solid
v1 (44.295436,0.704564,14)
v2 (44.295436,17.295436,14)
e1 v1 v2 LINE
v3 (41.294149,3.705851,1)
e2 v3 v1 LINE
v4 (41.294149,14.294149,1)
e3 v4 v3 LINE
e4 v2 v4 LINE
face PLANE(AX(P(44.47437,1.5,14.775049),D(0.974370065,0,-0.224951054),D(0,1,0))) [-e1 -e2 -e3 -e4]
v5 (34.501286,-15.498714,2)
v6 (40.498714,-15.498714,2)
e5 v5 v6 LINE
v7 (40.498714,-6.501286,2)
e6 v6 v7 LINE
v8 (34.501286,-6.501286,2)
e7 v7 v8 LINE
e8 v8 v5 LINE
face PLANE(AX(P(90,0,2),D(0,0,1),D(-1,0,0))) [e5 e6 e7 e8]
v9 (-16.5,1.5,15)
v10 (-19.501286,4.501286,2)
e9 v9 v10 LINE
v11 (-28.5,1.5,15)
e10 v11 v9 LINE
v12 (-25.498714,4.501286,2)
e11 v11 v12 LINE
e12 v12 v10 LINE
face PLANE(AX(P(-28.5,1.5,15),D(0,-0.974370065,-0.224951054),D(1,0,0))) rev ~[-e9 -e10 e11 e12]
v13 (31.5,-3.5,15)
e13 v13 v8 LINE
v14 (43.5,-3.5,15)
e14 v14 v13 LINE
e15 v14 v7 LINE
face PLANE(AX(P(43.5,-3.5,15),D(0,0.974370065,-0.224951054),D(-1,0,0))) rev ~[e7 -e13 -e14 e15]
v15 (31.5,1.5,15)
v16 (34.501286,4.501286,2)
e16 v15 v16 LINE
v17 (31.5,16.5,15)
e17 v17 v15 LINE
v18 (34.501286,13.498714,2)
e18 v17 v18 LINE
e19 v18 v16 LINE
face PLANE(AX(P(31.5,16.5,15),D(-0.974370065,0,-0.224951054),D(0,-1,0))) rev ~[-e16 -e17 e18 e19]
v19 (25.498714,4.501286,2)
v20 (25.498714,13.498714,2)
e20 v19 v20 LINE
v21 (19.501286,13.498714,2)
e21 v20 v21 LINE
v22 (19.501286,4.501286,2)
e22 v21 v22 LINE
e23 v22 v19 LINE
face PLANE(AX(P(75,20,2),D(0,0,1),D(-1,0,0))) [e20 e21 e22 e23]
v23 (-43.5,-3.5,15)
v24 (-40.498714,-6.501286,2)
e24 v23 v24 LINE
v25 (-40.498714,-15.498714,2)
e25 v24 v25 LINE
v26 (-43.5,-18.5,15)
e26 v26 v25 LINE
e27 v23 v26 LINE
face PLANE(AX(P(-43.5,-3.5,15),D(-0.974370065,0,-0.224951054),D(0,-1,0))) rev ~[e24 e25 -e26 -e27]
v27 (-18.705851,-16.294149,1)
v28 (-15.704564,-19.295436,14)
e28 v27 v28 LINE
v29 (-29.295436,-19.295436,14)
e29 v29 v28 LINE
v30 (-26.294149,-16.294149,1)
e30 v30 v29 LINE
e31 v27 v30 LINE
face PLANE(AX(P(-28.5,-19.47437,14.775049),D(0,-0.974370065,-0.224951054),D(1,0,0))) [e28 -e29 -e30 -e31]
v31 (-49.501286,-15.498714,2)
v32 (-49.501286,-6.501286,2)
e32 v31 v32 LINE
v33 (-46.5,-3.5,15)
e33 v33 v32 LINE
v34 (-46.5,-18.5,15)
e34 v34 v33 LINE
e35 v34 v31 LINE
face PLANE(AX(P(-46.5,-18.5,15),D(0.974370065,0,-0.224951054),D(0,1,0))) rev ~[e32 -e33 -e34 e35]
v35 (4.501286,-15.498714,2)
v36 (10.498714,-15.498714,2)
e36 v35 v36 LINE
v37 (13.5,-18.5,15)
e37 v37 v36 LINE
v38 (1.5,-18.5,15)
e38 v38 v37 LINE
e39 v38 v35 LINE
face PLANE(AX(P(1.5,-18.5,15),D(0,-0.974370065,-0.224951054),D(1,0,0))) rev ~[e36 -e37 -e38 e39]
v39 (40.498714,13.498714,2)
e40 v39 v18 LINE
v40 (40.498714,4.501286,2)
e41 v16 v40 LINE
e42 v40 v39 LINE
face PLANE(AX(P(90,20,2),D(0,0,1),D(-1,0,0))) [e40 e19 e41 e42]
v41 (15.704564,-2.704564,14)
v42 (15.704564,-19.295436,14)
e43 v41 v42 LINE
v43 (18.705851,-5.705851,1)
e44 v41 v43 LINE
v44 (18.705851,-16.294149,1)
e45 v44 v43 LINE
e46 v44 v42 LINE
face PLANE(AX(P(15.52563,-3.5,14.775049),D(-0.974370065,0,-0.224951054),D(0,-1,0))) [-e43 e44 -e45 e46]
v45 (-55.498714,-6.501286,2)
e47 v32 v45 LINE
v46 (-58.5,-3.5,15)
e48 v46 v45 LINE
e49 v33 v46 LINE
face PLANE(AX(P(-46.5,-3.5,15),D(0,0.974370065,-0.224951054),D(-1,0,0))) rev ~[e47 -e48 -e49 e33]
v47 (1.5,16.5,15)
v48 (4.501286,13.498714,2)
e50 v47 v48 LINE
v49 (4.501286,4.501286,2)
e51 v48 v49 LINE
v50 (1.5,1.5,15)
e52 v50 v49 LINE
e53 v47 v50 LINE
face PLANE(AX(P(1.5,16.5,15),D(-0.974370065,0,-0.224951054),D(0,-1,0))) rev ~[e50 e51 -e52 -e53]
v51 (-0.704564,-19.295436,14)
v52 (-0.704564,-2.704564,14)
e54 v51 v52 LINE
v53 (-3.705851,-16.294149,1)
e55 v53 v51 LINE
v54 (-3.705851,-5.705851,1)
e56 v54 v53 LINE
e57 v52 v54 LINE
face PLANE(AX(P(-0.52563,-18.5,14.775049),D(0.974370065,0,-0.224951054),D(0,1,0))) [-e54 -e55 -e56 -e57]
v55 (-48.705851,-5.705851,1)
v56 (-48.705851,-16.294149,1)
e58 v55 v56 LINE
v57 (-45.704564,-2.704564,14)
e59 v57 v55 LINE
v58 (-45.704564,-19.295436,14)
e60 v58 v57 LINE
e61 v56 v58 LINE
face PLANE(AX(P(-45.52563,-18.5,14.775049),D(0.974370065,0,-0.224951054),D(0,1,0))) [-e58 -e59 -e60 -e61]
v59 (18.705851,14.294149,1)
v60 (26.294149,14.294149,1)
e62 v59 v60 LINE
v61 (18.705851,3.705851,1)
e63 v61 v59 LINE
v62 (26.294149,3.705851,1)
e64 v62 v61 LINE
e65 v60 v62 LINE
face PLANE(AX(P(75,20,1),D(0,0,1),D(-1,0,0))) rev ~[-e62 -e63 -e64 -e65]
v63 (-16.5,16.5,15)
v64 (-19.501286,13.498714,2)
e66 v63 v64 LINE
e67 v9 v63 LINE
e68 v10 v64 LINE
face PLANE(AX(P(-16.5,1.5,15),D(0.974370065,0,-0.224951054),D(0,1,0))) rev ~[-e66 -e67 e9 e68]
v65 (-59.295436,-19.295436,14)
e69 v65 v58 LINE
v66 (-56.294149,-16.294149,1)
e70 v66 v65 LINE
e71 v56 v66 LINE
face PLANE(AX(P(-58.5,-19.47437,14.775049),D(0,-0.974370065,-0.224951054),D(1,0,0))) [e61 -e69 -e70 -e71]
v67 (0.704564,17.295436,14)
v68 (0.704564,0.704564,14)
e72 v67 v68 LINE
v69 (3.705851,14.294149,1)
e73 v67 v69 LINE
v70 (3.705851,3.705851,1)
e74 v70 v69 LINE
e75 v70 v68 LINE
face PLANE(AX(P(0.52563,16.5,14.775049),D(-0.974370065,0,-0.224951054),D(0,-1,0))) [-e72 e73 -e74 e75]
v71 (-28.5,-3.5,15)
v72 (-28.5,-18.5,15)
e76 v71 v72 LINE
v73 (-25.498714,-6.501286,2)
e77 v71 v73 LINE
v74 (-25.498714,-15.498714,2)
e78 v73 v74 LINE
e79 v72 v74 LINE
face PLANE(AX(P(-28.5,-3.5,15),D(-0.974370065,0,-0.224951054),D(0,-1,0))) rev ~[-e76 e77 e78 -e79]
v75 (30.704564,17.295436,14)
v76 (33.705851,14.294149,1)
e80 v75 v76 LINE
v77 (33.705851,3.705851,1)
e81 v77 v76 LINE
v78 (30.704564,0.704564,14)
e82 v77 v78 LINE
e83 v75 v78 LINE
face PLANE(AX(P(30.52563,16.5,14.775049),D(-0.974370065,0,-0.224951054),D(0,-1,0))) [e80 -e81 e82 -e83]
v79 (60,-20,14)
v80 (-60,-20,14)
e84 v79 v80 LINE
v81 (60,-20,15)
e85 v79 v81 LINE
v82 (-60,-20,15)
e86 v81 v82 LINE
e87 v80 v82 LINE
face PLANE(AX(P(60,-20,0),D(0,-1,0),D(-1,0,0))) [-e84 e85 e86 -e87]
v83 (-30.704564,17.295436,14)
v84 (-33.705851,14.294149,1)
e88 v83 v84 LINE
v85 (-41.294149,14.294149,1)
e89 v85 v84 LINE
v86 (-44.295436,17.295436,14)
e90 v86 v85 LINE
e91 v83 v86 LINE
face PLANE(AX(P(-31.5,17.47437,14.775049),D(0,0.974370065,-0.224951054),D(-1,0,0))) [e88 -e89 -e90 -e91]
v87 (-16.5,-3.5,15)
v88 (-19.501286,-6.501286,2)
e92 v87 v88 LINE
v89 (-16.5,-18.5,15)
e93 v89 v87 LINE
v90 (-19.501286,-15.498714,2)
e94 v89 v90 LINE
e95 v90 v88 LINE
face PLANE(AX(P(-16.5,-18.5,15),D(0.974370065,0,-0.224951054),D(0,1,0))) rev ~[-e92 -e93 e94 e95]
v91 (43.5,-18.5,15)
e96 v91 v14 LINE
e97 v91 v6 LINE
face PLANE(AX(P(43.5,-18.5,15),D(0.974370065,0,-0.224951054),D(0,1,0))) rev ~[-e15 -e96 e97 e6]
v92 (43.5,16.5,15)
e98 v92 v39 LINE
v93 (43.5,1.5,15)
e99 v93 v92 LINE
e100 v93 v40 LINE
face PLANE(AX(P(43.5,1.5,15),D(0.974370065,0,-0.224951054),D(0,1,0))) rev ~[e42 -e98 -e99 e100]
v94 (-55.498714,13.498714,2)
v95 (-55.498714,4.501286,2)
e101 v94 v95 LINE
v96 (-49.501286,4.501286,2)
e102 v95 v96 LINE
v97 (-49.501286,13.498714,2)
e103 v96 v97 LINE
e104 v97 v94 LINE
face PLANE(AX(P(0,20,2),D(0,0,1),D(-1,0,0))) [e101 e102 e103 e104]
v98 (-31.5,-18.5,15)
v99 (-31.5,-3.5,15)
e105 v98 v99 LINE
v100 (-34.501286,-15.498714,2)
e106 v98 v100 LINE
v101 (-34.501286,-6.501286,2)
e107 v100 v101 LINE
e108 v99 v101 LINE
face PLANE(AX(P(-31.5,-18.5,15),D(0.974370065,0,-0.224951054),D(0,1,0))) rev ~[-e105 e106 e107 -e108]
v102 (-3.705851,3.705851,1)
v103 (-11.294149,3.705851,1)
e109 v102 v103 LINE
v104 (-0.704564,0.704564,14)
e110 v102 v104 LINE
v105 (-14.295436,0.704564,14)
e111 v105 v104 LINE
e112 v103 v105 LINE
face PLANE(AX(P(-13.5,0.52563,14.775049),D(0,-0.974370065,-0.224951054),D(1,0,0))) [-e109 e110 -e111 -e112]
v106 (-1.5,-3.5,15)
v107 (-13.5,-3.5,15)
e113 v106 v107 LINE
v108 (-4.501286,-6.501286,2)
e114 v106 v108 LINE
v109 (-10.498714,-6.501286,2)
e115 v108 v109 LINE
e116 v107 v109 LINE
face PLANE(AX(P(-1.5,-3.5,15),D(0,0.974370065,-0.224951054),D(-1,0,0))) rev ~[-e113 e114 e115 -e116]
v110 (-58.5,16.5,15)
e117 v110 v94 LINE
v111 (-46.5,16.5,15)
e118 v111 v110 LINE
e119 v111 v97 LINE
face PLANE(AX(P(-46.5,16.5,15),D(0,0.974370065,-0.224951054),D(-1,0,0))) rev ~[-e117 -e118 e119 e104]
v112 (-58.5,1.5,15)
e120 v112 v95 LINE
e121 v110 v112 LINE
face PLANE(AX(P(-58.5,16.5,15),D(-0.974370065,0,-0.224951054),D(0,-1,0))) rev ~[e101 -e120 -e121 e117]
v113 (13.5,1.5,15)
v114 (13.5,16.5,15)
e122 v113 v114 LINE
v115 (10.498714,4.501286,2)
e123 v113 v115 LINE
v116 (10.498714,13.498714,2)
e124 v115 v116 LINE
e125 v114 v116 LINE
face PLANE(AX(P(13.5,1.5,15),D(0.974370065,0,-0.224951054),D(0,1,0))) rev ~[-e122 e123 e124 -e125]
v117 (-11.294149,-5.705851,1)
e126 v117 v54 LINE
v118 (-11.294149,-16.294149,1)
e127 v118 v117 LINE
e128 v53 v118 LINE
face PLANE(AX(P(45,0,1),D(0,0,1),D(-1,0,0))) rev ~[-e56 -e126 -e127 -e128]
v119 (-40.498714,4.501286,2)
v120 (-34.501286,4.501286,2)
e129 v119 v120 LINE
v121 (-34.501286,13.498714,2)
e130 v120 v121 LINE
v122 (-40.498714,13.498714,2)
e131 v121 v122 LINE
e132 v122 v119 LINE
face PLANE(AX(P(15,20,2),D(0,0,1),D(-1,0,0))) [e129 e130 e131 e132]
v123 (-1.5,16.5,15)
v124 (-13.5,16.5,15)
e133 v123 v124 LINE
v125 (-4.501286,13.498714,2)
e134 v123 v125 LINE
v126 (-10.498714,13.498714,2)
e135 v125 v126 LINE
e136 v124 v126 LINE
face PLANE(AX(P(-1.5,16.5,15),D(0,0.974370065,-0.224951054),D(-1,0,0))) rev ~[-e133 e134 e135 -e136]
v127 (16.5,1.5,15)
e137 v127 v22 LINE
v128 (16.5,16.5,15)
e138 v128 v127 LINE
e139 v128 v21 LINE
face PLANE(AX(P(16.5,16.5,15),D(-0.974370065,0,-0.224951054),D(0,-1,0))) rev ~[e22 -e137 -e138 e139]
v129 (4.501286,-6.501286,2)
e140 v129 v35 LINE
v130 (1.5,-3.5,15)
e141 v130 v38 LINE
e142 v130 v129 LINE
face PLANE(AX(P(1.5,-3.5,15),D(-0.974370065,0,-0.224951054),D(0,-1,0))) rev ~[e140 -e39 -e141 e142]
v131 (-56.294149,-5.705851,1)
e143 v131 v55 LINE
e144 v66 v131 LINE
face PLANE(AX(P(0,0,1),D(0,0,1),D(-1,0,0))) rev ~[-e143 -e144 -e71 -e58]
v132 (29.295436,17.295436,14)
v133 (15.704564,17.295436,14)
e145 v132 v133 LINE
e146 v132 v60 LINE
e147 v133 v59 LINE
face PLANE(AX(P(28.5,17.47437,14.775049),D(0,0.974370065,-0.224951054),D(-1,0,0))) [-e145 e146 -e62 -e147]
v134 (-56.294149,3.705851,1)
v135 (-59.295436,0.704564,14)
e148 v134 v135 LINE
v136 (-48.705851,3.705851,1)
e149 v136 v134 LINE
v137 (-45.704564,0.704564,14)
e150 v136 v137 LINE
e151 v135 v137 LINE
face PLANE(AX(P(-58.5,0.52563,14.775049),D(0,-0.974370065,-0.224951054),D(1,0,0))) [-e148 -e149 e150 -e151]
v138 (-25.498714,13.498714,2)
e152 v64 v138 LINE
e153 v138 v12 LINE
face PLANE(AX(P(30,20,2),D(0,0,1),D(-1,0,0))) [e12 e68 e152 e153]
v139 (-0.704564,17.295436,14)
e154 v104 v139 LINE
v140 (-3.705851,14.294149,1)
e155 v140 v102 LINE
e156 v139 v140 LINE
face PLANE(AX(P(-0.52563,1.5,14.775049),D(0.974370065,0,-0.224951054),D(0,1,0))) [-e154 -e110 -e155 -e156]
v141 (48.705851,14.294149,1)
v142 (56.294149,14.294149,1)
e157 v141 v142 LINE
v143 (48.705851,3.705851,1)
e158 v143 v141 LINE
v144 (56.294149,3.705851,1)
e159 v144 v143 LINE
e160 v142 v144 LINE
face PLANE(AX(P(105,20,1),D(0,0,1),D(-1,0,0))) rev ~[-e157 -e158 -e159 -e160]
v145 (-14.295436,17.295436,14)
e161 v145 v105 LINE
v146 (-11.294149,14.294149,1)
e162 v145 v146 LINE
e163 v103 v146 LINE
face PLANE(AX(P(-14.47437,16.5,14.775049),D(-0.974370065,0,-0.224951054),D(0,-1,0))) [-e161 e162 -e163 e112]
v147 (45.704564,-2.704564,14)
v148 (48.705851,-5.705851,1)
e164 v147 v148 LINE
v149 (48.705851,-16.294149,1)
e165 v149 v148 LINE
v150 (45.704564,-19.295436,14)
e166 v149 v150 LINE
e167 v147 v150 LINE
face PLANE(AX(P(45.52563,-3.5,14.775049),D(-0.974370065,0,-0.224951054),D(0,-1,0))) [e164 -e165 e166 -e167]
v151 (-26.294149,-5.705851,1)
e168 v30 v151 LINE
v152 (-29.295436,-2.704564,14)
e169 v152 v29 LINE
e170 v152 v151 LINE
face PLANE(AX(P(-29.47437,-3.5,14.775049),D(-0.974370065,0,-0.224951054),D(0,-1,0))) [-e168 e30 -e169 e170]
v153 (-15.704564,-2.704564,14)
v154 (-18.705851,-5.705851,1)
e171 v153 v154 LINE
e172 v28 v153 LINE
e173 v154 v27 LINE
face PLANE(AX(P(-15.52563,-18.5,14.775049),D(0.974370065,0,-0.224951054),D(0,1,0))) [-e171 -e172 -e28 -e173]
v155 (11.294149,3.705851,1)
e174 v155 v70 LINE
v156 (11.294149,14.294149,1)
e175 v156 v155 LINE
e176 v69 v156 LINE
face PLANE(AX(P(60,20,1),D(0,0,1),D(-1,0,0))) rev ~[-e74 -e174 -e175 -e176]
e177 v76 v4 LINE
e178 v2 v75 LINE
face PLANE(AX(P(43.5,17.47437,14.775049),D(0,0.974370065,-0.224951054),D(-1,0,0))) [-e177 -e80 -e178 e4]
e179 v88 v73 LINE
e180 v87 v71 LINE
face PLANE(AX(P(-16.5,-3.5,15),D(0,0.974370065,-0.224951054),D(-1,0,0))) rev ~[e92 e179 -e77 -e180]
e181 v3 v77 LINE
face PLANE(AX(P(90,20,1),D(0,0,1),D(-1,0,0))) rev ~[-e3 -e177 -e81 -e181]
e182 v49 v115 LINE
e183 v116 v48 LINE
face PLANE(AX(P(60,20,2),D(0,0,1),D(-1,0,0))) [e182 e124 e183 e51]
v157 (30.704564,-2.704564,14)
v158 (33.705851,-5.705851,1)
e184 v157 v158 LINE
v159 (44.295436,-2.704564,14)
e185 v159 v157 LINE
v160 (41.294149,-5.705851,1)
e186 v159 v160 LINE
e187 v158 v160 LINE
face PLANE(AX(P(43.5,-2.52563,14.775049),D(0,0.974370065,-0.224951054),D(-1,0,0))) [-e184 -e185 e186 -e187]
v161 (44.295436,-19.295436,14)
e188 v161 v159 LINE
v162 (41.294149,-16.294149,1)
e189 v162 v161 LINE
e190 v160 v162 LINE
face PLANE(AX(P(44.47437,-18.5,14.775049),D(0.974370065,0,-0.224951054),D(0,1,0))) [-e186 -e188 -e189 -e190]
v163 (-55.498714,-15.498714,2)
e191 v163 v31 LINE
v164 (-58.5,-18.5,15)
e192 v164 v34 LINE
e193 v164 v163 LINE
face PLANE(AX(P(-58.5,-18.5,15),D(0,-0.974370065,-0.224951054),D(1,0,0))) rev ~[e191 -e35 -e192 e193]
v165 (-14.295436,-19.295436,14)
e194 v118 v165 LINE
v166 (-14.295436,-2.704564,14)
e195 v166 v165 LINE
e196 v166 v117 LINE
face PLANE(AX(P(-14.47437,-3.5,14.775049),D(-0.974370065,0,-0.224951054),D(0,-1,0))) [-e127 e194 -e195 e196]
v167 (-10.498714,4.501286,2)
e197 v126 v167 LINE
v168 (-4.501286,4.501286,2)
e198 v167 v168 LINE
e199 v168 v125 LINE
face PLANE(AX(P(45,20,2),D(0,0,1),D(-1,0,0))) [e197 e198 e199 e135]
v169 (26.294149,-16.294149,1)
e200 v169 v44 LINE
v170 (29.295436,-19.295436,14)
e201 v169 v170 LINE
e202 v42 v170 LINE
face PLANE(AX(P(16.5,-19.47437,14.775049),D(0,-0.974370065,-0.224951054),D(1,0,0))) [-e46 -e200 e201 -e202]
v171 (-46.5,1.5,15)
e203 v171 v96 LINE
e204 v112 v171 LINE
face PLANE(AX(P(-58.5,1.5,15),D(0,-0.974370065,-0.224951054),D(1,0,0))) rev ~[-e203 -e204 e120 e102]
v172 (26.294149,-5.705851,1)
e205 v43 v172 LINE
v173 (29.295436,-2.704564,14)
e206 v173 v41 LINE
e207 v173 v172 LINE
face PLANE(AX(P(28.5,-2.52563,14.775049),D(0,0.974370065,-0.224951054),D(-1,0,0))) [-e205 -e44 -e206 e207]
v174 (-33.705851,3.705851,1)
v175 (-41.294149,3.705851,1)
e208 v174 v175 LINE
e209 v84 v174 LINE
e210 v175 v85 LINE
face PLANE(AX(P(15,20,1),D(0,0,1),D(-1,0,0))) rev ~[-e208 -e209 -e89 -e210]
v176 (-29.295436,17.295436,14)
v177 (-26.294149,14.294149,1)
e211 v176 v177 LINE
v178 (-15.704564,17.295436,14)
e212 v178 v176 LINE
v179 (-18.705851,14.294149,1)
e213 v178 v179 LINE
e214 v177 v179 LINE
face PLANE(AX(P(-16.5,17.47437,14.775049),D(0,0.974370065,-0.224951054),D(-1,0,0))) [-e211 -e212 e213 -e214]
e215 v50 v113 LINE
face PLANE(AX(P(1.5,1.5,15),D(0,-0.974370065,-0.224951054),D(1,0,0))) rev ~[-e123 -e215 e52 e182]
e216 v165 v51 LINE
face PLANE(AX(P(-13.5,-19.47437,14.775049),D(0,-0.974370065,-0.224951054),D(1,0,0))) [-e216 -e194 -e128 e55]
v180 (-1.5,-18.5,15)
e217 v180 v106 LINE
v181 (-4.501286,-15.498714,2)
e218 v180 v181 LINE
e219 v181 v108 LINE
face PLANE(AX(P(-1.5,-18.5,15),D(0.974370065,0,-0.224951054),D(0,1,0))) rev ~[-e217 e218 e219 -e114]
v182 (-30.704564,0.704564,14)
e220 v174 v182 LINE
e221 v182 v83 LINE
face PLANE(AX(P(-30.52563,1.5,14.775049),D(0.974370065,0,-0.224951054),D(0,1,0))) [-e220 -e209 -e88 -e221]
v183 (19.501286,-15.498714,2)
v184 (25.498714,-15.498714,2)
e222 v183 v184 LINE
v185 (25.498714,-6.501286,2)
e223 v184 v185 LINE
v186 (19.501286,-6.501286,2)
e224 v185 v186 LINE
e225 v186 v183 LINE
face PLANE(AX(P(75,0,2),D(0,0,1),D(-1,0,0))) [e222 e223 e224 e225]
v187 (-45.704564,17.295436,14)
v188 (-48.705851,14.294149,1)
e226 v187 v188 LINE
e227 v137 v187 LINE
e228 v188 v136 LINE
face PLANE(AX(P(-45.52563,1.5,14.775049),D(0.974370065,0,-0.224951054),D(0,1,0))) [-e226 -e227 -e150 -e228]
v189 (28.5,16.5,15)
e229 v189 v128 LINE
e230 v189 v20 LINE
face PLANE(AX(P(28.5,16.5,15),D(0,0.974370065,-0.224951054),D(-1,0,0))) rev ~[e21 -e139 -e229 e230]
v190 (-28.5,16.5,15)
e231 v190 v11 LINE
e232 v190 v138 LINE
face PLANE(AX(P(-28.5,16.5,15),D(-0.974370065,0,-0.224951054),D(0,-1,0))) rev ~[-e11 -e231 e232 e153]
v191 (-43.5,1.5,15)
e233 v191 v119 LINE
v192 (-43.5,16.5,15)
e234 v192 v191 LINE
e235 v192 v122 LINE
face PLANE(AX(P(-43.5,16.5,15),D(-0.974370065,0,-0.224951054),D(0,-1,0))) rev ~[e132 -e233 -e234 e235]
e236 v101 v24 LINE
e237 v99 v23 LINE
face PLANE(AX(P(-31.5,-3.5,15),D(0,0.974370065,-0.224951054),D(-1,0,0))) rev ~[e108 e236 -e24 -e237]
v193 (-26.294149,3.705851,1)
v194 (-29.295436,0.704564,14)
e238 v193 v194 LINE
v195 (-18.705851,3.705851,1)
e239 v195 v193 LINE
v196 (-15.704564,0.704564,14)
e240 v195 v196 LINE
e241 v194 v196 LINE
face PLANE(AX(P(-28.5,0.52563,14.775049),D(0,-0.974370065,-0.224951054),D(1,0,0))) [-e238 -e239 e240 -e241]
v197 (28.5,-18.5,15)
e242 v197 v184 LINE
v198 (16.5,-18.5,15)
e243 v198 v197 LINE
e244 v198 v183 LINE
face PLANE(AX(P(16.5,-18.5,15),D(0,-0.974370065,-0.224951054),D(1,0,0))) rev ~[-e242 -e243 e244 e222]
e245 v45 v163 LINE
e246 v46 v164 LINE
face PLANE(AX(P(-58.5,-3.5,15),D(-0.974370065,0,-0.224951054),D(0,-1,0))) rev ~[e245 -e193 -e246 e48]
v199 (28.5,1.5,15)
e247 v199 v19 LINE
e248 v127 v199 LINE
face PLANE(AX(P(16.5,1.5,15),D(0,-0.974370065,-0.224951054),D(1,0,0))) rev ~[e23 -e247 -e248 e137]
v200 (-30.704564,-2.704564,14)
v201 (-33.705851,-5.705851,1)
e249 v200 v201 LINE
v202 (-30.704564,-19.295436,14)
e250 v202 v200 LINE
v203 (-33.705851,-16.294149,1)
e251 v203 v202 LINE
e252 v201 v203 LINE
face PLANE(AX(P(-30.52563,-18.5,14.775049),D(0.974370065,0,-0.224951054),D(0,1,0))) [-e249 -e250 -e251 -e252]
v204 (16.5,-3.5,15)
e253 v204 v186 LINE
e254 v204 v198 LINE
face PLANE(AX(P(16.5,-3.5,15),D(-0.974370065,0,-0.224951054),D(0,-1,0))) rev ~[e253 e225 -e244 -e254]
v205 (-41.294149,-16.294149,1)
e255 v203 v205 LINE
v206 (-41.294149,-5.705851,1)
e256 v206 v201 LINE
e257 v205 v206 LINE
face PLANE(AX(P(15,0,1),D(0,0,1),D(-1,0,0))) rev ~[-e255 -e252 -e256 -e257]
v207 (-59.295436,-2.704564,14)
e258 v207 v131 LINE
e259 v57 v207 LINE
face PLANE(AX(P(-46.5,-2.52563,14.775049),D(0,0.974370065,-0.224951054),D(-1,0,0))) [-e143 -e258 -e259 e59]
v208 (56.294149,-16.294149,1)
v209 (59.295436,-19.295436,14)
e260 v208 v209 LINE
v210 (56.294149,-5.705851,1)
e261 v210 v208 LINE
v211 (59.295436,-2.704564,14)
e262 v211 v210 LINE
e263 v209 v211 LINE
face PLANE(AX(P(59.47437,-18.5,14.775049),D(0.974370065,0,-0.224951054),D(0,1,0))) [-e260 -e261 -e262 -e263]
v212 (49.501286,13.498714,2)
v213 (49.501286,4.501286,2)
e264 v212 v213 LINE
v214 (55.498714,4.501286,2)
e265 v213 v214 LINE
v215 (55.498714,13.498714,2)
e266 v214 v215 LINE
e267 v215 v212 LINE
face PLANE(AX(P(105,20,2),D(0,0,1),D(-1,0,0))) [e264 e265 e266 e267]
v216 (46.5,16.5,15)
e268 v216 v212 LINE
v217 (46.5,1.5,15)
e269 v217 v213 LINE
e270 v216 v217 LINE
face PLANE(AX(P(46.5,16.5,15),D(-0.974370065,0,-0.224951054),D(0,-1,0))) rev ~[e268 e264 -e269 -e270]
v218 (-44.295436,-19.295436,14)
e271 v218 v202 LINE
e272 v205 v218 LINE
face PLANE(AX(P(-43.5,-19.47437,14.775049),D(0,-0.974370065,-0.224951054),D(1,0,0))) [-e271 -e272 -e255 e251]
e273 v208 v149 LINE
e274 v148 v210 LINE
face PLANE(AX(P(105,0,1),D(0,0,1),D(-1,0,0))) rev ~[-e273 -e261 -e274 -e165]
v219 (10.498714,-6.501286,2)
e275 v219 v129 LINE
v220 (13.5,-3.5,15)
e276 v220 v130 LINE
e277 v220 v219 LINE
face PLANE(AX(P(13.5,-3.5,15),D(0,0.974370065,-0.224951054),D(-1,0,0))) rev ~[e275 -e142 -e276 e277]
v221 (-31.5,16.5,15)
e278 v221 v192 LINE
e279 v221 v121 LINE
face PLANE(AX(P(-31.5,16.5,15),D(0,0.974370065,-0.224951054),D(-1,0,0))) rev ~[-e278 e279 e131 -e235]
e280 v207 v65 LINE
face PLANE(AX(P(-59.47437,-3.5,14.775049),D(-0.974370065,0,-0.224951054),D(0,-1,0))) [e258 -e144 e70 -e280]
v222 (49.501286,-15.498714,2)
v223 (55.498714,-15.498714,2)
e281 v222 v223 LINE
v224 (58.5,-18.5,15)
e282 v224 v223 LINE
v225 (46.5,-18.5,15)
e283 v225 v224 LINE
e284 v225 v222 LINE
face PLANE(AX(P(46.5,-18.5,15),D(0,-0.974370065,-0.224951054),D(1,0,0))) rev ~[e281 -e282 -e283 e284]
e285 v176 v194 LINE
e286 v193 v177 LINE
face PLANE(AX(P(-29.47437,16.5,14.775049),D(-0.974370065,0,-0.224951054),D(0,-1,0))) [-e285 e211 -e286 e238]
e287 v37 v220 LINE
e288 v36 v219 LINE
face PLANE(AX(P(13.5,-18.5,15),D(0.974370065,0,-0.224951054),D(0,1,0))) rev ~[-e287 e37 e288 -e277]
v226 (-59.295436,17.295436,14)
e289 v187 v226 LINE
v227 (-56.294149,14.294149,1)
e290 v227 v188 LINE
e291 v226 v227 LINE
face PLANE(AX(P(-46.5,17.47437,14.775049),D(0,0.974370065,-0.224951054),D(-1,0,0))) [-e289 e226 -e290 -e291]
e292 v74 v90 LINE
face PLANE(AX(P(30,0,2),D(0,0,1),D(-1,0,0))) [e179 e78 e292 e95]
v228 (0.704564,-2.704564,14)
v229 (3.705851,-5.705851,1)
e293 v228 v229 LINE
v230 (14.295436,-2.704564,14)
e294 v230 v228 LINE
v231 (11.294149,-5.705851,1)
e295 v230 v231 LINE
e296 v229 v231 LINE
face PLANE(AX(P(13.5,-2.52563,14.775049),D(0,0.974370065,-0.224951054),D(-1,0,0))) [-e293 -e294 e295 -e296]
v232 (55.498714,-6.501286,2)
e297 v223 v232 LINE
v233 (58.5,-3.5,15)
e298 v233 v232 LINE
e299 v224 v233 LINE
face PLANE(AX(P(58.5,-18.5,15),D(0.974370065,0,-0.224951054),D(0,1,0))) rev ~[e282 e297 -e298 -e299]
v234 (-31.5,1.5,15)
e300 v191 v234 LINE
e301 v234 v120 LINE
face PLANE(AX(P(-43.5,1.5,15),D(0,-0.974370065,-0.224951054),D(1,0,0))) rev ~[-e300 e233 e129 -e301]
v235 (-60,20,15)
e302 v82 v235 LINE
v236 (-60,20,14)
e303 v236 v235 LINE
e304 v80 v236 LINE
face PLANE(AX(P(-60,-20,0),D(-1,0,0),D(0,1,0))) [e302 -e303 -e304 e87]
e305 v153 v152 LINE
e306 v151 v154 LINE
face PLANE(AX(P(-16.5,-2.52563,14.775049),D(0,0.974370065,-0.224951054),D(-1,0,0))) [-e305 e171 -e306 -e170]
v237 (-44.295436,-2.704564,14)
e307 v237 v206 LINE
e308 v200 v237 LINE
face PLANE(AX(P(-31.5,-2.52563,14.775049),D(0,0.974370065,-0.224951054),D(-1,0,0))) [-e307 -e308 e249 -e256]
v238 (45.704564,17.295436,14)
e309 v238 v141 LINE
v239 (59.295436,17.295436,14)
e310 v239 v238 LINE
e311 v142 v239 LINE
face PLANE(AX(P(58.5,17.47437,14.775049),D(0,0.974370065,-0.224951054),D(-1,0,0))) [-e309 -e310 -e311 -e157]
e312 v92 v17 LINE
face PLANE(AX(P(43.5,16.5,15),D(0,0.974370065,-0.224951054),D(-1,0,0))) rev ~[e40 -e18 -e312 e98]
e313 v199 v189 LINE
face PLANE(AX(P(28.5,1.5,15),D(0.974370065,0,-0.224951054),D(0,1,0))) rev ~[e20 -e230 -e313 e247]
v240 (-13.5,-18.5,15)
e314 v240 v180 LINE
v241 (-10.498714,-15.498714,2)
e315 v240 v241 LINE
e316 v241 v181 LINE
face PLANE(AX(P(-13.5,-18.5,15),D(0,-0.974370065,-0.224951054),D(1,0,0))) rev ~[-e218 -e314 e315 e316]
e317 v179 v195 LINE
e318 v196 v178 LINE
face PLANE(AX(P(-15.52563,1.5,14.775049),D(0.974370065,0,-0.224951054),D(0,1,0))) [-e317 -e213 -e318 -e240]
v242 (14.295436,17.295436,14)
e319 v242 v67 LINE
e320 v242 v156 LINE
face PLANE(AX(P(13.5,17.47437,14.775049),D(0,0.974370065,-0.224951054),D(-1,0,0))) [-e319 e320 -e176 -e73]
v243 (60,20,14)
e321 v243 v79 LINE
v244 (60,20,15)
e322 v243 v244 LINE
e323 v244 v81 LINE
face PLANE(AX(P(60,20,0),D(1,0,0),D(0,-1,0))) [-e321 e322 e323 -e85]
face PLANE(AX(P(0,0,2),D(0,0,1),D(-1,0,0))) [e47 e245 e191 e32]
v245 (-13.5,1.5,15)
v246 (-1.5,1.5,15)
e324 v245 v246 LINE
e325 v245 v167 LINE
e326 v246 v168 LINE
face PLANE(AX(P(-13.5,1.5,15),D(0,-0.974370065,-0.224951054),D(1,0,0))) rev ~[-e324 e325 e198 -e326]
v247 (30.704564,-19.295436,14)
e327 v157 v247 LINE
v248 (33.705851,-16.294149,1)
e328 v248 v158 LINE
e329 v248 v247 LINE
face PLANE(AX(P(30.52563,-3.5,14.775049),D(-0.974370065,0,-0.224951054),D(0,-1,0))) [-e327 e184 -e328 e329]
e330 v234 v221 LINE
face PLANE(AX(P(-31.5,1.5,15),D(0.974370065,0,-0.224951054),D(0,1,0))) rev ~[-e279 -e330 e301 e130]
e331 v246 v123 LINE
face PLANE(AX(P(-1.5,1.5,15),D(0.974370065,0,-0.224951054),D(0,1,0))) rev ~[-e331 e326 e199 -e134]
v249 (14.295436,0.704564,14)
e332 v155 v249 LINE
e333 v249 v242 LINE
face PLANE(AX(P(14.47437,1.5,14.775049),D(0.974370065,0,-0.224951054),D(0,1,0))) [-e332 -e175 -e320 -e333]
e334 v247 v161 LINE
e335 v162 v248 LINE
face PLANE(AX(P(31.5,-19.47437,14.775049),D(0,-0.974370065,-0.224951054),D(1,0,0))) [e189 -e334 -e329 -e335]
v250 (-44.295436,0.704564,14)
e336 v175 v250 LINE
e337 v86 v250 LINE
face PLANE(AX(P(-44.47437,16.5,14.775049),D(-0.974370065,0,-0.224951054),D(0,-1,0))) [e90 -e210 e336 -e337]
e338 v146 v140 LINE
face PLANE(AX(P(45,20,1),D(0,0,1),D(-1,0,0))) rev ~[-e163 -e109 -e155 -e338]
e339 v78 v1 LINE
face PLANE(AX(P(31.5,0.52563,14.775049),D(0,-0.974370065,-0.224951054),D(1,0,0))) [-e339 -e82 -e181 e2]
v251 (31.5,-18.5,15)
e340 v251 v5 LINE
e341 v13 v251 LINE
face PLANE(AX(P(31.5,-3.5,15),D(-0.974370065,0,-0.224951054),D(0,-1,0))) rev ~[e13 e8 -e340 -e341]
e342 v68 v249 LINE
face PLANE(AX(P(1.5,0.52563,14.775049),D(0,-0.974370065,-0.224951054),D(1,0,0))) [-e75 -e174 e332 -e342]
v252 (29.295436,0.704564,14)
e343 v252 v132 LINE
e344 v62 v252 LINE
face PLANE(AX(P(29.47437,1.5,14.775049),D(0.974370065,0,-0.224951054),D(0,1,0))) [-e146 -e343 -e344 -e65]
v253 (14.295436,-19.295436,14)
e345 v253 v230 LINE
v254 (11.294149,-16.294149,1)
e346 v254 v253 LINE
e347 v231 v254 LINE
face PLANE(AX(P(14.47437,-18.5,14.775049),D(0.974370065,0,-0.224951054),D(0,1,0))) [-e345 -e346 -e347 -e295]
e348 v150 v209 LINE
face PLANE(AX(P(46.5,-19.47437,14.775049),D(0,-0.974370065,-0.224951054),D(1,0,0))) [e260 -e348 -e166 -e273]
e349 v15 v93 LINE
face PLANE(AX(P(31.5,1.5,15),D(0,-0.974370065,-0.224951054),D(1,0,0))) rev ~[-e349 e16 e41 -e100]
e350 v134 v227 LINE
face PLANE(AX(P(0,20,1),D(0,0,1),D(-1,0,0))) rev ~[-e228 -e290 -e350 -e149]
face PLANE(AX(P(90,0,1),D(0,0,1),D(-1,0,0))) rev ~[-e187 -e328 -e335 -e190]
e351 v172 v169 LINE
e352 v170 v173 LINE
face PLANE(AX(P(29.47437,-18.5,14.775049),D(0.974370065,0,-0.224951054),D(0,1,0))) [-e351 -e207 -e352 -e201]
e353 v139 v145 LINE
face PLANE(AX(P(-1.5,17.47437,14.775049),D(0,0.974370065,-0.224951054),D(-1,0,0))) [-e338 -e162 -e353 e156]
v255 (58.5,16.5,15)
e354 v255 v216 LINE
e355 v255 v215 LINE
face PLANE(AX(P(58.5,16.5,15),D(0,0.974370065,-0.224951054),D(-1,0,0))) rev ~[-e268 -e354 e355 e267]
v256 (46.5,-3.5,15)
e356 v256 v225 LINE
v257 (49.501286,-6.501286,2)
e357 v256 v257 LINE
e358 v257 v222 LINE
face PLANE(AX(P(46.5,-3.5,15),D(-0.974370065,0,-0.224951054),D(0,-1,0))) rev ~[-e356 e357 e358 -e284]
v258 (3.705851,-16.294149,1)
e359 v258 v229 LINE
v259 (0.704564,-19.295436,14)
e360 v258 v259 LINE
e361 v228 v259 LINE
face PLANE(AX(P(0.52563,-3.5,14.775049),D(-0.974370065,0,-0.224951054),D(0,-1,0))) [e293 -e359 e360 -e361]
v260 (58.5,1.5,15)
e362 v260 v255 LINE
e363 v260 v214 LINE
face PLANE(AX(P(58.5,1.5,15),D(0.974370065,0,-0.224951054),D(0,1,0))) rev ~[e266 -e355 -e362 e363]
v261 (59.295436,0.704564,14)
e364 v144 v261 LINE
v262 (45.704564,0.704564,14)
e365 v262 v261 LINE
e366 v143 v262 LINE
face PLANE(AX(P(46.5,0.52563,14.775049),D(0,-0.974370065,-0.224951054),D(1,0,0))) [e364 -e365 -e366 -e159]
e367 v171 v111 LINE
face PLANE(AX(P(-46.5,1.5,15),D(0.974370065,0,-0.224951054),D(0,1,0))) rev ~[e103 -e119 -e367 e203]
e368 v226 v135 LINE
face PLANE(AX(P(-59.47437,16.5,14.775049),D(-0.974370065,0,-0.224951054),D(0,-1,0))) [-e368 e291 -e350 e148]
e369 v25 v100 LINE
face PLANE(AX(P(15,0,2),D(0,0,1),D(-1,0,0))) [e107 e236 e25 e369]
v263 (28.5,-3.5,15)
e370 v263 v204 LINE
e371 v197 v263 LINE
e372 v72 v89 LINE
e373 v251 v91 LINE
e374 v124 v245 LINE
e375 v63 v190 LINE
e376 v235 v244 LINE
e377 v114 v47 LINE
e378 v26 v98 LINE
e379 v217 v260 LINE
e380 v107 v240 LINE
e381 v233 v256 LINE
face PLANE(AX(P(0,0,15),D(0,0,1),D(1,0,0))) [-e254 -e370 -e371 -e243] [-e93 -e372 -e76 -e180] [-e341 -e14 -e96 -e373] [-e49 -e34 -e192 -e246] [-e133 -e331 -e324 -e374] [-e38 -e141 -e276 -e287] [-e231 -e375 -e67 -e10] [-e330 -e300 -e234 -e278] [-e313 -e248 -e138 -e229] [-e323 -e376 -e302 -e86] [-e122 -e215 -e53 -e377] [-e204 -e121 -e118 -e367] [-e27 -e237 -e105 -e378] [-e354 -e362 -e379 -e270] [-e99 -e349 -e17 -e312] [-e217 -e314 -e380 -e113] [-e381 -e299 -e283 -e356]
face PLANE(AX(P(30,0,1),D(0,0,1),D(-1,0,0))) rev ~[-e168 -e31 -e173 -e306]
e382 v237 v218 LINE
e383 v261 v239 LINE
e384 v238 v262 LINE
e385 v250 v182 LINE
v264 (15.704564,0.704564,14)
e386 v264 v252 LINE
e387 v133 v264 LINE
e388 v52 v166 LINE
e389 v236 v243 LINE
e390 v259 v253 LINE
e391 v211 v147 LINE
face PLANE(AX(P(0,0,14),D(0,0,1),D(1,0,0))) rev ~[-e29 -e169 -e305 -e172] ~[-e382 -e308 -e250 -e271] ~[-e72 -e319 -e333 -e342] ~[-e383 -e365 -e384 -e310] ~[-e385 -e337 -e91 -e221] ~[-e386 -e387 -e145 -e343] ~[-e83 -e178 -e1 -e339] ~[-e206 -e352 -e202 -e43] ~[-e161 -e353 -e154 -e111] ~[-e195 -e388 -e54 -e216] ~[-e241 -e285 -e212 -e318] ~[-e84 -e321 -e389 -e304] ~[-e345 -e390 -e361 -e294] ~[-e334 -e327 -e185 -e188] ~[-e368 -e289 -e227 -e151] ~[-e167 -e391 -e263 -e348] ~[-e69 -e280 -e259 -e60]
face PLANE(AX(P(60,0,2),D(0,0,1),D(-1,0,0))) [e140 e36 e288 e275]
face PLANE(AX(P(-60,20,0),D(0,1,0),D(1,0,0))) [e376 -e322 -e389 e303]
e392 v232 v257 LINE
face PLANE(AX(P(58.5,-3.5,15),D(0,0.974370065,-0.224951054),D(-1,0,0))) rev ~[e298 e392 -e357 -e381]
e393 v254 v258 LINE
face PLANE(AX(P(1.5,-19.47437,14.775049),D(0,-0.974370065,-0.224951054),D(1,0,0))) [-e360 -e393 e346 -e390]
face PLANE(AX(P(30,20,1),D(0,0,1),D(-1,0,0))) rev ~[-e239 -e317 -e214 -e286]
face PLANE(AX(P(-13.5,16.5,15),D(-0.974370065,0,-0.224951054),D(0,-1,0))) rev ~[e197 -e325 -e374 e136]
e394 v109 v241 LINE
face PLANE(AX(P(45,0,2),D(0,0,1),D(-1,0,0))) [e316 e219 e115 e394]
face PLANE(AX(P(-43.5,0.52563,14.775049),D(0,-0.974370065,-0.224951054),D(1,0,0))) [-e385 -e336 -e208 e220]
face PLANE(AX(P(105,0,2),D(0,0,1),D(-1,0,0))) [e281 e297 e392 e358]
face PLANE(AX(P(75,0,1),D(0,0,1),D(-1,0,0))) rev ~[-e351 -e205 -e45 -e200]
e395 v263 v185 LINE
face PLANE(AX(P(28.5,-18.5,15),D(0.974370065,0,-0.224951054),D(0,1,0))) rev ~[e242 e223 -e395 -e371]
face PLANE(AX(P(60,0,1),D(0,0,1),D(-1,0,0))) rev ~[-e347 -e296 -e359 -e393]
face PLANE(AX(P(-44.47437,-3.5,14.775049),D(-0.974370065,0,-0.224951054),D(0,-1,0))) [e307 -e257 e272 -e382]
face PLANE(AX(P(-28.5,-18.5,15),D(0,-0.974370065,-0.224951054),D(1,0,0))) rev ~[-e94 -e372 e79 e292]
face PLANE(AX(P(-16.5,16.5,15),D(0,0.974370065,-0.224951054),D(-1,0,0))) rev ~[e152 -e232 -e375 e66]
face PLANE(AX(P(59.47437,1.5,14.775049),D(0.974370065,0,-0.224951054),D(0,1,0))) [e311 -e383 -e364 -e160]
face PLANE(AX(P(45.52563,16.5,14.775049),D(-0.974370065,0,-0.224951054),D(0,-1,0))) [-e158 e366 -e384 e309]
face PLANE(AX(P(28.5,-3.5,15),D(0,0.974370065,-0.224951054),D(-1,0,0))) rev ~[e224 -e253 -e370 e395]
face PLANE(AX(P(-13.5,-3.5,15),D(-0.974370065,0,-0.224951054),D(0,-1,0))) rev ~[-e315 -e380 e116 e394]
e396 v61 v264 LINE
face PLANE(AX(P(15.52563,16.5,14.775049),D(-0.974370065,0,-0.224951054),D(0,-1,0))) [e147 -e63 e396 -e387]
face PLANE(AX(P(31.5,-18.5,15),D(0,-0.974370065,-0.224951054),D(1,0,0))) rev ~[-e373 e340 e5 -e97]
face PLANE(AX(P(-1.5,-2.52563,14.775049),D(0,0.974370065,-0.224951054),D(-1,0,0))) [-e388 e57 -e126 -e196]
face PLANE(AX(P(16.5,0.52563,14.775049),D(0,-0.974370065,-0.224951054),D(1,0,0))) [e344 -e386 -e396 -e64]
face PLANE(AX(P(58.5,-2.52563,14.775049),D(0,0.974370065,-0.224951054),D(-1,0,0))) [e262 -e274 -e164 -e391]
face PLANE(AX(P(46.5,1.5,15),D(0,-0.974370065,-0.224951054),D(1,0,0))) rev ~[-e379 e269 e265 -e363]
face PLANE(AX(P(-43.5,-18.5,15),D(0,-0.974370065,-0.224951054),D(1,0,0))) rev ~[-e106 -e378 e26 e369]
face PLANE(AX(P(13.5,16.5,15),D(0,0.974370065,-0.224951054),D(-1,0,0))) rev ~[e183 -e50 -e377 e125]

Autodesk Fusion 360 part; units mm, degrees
sketch "Sketch1" plane through (0, 0, 0) normal (0, 0, 1) x (1, 0, 0)
  line L0 (60, -20) -> (-60, -20)
  line L1 (-60, -20) -> (-60, 20)
  line L2 (-60, 20) -> (60, 20)
  line L3 (60, 20) -> (60, -20)
  line L4 (60, -20) -> (-60, 20) construction
  line L5 (-60, -20) -> (60, 20) construction
  dimension "d1" = 120
  dimension "d2" = 40
extrude "Extrude1" add sketch "Sketch1" along normal blind 15
sketch "Sketch2" plane through (0, 0, 15) normal (0, 0, 1) x (-1, 0, 0)
  line L0 (-60, -20) -> (60, -20)
  line L1 (60, -20) -> (60, 20)
  line L2 (60, 20) -> (-60, 20)
  line L3 (-60, 20) -> (-60, -20)
  line L4 (58.5, 18.5) -> (46.5, 18.5)
  line L5 (46.5, 18.5) -> (46.5, 3.5)
  line L6 (46.5, 3.5) -> (58.5, 3.5)
  line L7 (58.5, 3.5) -> (58.5, 18.5)
  dimension "d5" = 12
  dimension "d6" = 15
  dimension "d7" = 1.5
  dimension "d8" = 1.5
extrude "Extrude2" cut sketch "Sketch2" against normal blind 13 draft -13 contours L4 L5 L6 L7
pattern_linear "R-Pattern1" count 8 spacing 15 along (1, 0, 0) count 2 spacing 20 along (0, 1, 0) of "Extrude2"
shell "Shell1" thickness 1 removed faces 5 at (60, 6.6667, 10) at (20, -20, 5) at (-60, -6.6667, 5) at (-20, 20, 5) at (20, -6.6667, 0)
